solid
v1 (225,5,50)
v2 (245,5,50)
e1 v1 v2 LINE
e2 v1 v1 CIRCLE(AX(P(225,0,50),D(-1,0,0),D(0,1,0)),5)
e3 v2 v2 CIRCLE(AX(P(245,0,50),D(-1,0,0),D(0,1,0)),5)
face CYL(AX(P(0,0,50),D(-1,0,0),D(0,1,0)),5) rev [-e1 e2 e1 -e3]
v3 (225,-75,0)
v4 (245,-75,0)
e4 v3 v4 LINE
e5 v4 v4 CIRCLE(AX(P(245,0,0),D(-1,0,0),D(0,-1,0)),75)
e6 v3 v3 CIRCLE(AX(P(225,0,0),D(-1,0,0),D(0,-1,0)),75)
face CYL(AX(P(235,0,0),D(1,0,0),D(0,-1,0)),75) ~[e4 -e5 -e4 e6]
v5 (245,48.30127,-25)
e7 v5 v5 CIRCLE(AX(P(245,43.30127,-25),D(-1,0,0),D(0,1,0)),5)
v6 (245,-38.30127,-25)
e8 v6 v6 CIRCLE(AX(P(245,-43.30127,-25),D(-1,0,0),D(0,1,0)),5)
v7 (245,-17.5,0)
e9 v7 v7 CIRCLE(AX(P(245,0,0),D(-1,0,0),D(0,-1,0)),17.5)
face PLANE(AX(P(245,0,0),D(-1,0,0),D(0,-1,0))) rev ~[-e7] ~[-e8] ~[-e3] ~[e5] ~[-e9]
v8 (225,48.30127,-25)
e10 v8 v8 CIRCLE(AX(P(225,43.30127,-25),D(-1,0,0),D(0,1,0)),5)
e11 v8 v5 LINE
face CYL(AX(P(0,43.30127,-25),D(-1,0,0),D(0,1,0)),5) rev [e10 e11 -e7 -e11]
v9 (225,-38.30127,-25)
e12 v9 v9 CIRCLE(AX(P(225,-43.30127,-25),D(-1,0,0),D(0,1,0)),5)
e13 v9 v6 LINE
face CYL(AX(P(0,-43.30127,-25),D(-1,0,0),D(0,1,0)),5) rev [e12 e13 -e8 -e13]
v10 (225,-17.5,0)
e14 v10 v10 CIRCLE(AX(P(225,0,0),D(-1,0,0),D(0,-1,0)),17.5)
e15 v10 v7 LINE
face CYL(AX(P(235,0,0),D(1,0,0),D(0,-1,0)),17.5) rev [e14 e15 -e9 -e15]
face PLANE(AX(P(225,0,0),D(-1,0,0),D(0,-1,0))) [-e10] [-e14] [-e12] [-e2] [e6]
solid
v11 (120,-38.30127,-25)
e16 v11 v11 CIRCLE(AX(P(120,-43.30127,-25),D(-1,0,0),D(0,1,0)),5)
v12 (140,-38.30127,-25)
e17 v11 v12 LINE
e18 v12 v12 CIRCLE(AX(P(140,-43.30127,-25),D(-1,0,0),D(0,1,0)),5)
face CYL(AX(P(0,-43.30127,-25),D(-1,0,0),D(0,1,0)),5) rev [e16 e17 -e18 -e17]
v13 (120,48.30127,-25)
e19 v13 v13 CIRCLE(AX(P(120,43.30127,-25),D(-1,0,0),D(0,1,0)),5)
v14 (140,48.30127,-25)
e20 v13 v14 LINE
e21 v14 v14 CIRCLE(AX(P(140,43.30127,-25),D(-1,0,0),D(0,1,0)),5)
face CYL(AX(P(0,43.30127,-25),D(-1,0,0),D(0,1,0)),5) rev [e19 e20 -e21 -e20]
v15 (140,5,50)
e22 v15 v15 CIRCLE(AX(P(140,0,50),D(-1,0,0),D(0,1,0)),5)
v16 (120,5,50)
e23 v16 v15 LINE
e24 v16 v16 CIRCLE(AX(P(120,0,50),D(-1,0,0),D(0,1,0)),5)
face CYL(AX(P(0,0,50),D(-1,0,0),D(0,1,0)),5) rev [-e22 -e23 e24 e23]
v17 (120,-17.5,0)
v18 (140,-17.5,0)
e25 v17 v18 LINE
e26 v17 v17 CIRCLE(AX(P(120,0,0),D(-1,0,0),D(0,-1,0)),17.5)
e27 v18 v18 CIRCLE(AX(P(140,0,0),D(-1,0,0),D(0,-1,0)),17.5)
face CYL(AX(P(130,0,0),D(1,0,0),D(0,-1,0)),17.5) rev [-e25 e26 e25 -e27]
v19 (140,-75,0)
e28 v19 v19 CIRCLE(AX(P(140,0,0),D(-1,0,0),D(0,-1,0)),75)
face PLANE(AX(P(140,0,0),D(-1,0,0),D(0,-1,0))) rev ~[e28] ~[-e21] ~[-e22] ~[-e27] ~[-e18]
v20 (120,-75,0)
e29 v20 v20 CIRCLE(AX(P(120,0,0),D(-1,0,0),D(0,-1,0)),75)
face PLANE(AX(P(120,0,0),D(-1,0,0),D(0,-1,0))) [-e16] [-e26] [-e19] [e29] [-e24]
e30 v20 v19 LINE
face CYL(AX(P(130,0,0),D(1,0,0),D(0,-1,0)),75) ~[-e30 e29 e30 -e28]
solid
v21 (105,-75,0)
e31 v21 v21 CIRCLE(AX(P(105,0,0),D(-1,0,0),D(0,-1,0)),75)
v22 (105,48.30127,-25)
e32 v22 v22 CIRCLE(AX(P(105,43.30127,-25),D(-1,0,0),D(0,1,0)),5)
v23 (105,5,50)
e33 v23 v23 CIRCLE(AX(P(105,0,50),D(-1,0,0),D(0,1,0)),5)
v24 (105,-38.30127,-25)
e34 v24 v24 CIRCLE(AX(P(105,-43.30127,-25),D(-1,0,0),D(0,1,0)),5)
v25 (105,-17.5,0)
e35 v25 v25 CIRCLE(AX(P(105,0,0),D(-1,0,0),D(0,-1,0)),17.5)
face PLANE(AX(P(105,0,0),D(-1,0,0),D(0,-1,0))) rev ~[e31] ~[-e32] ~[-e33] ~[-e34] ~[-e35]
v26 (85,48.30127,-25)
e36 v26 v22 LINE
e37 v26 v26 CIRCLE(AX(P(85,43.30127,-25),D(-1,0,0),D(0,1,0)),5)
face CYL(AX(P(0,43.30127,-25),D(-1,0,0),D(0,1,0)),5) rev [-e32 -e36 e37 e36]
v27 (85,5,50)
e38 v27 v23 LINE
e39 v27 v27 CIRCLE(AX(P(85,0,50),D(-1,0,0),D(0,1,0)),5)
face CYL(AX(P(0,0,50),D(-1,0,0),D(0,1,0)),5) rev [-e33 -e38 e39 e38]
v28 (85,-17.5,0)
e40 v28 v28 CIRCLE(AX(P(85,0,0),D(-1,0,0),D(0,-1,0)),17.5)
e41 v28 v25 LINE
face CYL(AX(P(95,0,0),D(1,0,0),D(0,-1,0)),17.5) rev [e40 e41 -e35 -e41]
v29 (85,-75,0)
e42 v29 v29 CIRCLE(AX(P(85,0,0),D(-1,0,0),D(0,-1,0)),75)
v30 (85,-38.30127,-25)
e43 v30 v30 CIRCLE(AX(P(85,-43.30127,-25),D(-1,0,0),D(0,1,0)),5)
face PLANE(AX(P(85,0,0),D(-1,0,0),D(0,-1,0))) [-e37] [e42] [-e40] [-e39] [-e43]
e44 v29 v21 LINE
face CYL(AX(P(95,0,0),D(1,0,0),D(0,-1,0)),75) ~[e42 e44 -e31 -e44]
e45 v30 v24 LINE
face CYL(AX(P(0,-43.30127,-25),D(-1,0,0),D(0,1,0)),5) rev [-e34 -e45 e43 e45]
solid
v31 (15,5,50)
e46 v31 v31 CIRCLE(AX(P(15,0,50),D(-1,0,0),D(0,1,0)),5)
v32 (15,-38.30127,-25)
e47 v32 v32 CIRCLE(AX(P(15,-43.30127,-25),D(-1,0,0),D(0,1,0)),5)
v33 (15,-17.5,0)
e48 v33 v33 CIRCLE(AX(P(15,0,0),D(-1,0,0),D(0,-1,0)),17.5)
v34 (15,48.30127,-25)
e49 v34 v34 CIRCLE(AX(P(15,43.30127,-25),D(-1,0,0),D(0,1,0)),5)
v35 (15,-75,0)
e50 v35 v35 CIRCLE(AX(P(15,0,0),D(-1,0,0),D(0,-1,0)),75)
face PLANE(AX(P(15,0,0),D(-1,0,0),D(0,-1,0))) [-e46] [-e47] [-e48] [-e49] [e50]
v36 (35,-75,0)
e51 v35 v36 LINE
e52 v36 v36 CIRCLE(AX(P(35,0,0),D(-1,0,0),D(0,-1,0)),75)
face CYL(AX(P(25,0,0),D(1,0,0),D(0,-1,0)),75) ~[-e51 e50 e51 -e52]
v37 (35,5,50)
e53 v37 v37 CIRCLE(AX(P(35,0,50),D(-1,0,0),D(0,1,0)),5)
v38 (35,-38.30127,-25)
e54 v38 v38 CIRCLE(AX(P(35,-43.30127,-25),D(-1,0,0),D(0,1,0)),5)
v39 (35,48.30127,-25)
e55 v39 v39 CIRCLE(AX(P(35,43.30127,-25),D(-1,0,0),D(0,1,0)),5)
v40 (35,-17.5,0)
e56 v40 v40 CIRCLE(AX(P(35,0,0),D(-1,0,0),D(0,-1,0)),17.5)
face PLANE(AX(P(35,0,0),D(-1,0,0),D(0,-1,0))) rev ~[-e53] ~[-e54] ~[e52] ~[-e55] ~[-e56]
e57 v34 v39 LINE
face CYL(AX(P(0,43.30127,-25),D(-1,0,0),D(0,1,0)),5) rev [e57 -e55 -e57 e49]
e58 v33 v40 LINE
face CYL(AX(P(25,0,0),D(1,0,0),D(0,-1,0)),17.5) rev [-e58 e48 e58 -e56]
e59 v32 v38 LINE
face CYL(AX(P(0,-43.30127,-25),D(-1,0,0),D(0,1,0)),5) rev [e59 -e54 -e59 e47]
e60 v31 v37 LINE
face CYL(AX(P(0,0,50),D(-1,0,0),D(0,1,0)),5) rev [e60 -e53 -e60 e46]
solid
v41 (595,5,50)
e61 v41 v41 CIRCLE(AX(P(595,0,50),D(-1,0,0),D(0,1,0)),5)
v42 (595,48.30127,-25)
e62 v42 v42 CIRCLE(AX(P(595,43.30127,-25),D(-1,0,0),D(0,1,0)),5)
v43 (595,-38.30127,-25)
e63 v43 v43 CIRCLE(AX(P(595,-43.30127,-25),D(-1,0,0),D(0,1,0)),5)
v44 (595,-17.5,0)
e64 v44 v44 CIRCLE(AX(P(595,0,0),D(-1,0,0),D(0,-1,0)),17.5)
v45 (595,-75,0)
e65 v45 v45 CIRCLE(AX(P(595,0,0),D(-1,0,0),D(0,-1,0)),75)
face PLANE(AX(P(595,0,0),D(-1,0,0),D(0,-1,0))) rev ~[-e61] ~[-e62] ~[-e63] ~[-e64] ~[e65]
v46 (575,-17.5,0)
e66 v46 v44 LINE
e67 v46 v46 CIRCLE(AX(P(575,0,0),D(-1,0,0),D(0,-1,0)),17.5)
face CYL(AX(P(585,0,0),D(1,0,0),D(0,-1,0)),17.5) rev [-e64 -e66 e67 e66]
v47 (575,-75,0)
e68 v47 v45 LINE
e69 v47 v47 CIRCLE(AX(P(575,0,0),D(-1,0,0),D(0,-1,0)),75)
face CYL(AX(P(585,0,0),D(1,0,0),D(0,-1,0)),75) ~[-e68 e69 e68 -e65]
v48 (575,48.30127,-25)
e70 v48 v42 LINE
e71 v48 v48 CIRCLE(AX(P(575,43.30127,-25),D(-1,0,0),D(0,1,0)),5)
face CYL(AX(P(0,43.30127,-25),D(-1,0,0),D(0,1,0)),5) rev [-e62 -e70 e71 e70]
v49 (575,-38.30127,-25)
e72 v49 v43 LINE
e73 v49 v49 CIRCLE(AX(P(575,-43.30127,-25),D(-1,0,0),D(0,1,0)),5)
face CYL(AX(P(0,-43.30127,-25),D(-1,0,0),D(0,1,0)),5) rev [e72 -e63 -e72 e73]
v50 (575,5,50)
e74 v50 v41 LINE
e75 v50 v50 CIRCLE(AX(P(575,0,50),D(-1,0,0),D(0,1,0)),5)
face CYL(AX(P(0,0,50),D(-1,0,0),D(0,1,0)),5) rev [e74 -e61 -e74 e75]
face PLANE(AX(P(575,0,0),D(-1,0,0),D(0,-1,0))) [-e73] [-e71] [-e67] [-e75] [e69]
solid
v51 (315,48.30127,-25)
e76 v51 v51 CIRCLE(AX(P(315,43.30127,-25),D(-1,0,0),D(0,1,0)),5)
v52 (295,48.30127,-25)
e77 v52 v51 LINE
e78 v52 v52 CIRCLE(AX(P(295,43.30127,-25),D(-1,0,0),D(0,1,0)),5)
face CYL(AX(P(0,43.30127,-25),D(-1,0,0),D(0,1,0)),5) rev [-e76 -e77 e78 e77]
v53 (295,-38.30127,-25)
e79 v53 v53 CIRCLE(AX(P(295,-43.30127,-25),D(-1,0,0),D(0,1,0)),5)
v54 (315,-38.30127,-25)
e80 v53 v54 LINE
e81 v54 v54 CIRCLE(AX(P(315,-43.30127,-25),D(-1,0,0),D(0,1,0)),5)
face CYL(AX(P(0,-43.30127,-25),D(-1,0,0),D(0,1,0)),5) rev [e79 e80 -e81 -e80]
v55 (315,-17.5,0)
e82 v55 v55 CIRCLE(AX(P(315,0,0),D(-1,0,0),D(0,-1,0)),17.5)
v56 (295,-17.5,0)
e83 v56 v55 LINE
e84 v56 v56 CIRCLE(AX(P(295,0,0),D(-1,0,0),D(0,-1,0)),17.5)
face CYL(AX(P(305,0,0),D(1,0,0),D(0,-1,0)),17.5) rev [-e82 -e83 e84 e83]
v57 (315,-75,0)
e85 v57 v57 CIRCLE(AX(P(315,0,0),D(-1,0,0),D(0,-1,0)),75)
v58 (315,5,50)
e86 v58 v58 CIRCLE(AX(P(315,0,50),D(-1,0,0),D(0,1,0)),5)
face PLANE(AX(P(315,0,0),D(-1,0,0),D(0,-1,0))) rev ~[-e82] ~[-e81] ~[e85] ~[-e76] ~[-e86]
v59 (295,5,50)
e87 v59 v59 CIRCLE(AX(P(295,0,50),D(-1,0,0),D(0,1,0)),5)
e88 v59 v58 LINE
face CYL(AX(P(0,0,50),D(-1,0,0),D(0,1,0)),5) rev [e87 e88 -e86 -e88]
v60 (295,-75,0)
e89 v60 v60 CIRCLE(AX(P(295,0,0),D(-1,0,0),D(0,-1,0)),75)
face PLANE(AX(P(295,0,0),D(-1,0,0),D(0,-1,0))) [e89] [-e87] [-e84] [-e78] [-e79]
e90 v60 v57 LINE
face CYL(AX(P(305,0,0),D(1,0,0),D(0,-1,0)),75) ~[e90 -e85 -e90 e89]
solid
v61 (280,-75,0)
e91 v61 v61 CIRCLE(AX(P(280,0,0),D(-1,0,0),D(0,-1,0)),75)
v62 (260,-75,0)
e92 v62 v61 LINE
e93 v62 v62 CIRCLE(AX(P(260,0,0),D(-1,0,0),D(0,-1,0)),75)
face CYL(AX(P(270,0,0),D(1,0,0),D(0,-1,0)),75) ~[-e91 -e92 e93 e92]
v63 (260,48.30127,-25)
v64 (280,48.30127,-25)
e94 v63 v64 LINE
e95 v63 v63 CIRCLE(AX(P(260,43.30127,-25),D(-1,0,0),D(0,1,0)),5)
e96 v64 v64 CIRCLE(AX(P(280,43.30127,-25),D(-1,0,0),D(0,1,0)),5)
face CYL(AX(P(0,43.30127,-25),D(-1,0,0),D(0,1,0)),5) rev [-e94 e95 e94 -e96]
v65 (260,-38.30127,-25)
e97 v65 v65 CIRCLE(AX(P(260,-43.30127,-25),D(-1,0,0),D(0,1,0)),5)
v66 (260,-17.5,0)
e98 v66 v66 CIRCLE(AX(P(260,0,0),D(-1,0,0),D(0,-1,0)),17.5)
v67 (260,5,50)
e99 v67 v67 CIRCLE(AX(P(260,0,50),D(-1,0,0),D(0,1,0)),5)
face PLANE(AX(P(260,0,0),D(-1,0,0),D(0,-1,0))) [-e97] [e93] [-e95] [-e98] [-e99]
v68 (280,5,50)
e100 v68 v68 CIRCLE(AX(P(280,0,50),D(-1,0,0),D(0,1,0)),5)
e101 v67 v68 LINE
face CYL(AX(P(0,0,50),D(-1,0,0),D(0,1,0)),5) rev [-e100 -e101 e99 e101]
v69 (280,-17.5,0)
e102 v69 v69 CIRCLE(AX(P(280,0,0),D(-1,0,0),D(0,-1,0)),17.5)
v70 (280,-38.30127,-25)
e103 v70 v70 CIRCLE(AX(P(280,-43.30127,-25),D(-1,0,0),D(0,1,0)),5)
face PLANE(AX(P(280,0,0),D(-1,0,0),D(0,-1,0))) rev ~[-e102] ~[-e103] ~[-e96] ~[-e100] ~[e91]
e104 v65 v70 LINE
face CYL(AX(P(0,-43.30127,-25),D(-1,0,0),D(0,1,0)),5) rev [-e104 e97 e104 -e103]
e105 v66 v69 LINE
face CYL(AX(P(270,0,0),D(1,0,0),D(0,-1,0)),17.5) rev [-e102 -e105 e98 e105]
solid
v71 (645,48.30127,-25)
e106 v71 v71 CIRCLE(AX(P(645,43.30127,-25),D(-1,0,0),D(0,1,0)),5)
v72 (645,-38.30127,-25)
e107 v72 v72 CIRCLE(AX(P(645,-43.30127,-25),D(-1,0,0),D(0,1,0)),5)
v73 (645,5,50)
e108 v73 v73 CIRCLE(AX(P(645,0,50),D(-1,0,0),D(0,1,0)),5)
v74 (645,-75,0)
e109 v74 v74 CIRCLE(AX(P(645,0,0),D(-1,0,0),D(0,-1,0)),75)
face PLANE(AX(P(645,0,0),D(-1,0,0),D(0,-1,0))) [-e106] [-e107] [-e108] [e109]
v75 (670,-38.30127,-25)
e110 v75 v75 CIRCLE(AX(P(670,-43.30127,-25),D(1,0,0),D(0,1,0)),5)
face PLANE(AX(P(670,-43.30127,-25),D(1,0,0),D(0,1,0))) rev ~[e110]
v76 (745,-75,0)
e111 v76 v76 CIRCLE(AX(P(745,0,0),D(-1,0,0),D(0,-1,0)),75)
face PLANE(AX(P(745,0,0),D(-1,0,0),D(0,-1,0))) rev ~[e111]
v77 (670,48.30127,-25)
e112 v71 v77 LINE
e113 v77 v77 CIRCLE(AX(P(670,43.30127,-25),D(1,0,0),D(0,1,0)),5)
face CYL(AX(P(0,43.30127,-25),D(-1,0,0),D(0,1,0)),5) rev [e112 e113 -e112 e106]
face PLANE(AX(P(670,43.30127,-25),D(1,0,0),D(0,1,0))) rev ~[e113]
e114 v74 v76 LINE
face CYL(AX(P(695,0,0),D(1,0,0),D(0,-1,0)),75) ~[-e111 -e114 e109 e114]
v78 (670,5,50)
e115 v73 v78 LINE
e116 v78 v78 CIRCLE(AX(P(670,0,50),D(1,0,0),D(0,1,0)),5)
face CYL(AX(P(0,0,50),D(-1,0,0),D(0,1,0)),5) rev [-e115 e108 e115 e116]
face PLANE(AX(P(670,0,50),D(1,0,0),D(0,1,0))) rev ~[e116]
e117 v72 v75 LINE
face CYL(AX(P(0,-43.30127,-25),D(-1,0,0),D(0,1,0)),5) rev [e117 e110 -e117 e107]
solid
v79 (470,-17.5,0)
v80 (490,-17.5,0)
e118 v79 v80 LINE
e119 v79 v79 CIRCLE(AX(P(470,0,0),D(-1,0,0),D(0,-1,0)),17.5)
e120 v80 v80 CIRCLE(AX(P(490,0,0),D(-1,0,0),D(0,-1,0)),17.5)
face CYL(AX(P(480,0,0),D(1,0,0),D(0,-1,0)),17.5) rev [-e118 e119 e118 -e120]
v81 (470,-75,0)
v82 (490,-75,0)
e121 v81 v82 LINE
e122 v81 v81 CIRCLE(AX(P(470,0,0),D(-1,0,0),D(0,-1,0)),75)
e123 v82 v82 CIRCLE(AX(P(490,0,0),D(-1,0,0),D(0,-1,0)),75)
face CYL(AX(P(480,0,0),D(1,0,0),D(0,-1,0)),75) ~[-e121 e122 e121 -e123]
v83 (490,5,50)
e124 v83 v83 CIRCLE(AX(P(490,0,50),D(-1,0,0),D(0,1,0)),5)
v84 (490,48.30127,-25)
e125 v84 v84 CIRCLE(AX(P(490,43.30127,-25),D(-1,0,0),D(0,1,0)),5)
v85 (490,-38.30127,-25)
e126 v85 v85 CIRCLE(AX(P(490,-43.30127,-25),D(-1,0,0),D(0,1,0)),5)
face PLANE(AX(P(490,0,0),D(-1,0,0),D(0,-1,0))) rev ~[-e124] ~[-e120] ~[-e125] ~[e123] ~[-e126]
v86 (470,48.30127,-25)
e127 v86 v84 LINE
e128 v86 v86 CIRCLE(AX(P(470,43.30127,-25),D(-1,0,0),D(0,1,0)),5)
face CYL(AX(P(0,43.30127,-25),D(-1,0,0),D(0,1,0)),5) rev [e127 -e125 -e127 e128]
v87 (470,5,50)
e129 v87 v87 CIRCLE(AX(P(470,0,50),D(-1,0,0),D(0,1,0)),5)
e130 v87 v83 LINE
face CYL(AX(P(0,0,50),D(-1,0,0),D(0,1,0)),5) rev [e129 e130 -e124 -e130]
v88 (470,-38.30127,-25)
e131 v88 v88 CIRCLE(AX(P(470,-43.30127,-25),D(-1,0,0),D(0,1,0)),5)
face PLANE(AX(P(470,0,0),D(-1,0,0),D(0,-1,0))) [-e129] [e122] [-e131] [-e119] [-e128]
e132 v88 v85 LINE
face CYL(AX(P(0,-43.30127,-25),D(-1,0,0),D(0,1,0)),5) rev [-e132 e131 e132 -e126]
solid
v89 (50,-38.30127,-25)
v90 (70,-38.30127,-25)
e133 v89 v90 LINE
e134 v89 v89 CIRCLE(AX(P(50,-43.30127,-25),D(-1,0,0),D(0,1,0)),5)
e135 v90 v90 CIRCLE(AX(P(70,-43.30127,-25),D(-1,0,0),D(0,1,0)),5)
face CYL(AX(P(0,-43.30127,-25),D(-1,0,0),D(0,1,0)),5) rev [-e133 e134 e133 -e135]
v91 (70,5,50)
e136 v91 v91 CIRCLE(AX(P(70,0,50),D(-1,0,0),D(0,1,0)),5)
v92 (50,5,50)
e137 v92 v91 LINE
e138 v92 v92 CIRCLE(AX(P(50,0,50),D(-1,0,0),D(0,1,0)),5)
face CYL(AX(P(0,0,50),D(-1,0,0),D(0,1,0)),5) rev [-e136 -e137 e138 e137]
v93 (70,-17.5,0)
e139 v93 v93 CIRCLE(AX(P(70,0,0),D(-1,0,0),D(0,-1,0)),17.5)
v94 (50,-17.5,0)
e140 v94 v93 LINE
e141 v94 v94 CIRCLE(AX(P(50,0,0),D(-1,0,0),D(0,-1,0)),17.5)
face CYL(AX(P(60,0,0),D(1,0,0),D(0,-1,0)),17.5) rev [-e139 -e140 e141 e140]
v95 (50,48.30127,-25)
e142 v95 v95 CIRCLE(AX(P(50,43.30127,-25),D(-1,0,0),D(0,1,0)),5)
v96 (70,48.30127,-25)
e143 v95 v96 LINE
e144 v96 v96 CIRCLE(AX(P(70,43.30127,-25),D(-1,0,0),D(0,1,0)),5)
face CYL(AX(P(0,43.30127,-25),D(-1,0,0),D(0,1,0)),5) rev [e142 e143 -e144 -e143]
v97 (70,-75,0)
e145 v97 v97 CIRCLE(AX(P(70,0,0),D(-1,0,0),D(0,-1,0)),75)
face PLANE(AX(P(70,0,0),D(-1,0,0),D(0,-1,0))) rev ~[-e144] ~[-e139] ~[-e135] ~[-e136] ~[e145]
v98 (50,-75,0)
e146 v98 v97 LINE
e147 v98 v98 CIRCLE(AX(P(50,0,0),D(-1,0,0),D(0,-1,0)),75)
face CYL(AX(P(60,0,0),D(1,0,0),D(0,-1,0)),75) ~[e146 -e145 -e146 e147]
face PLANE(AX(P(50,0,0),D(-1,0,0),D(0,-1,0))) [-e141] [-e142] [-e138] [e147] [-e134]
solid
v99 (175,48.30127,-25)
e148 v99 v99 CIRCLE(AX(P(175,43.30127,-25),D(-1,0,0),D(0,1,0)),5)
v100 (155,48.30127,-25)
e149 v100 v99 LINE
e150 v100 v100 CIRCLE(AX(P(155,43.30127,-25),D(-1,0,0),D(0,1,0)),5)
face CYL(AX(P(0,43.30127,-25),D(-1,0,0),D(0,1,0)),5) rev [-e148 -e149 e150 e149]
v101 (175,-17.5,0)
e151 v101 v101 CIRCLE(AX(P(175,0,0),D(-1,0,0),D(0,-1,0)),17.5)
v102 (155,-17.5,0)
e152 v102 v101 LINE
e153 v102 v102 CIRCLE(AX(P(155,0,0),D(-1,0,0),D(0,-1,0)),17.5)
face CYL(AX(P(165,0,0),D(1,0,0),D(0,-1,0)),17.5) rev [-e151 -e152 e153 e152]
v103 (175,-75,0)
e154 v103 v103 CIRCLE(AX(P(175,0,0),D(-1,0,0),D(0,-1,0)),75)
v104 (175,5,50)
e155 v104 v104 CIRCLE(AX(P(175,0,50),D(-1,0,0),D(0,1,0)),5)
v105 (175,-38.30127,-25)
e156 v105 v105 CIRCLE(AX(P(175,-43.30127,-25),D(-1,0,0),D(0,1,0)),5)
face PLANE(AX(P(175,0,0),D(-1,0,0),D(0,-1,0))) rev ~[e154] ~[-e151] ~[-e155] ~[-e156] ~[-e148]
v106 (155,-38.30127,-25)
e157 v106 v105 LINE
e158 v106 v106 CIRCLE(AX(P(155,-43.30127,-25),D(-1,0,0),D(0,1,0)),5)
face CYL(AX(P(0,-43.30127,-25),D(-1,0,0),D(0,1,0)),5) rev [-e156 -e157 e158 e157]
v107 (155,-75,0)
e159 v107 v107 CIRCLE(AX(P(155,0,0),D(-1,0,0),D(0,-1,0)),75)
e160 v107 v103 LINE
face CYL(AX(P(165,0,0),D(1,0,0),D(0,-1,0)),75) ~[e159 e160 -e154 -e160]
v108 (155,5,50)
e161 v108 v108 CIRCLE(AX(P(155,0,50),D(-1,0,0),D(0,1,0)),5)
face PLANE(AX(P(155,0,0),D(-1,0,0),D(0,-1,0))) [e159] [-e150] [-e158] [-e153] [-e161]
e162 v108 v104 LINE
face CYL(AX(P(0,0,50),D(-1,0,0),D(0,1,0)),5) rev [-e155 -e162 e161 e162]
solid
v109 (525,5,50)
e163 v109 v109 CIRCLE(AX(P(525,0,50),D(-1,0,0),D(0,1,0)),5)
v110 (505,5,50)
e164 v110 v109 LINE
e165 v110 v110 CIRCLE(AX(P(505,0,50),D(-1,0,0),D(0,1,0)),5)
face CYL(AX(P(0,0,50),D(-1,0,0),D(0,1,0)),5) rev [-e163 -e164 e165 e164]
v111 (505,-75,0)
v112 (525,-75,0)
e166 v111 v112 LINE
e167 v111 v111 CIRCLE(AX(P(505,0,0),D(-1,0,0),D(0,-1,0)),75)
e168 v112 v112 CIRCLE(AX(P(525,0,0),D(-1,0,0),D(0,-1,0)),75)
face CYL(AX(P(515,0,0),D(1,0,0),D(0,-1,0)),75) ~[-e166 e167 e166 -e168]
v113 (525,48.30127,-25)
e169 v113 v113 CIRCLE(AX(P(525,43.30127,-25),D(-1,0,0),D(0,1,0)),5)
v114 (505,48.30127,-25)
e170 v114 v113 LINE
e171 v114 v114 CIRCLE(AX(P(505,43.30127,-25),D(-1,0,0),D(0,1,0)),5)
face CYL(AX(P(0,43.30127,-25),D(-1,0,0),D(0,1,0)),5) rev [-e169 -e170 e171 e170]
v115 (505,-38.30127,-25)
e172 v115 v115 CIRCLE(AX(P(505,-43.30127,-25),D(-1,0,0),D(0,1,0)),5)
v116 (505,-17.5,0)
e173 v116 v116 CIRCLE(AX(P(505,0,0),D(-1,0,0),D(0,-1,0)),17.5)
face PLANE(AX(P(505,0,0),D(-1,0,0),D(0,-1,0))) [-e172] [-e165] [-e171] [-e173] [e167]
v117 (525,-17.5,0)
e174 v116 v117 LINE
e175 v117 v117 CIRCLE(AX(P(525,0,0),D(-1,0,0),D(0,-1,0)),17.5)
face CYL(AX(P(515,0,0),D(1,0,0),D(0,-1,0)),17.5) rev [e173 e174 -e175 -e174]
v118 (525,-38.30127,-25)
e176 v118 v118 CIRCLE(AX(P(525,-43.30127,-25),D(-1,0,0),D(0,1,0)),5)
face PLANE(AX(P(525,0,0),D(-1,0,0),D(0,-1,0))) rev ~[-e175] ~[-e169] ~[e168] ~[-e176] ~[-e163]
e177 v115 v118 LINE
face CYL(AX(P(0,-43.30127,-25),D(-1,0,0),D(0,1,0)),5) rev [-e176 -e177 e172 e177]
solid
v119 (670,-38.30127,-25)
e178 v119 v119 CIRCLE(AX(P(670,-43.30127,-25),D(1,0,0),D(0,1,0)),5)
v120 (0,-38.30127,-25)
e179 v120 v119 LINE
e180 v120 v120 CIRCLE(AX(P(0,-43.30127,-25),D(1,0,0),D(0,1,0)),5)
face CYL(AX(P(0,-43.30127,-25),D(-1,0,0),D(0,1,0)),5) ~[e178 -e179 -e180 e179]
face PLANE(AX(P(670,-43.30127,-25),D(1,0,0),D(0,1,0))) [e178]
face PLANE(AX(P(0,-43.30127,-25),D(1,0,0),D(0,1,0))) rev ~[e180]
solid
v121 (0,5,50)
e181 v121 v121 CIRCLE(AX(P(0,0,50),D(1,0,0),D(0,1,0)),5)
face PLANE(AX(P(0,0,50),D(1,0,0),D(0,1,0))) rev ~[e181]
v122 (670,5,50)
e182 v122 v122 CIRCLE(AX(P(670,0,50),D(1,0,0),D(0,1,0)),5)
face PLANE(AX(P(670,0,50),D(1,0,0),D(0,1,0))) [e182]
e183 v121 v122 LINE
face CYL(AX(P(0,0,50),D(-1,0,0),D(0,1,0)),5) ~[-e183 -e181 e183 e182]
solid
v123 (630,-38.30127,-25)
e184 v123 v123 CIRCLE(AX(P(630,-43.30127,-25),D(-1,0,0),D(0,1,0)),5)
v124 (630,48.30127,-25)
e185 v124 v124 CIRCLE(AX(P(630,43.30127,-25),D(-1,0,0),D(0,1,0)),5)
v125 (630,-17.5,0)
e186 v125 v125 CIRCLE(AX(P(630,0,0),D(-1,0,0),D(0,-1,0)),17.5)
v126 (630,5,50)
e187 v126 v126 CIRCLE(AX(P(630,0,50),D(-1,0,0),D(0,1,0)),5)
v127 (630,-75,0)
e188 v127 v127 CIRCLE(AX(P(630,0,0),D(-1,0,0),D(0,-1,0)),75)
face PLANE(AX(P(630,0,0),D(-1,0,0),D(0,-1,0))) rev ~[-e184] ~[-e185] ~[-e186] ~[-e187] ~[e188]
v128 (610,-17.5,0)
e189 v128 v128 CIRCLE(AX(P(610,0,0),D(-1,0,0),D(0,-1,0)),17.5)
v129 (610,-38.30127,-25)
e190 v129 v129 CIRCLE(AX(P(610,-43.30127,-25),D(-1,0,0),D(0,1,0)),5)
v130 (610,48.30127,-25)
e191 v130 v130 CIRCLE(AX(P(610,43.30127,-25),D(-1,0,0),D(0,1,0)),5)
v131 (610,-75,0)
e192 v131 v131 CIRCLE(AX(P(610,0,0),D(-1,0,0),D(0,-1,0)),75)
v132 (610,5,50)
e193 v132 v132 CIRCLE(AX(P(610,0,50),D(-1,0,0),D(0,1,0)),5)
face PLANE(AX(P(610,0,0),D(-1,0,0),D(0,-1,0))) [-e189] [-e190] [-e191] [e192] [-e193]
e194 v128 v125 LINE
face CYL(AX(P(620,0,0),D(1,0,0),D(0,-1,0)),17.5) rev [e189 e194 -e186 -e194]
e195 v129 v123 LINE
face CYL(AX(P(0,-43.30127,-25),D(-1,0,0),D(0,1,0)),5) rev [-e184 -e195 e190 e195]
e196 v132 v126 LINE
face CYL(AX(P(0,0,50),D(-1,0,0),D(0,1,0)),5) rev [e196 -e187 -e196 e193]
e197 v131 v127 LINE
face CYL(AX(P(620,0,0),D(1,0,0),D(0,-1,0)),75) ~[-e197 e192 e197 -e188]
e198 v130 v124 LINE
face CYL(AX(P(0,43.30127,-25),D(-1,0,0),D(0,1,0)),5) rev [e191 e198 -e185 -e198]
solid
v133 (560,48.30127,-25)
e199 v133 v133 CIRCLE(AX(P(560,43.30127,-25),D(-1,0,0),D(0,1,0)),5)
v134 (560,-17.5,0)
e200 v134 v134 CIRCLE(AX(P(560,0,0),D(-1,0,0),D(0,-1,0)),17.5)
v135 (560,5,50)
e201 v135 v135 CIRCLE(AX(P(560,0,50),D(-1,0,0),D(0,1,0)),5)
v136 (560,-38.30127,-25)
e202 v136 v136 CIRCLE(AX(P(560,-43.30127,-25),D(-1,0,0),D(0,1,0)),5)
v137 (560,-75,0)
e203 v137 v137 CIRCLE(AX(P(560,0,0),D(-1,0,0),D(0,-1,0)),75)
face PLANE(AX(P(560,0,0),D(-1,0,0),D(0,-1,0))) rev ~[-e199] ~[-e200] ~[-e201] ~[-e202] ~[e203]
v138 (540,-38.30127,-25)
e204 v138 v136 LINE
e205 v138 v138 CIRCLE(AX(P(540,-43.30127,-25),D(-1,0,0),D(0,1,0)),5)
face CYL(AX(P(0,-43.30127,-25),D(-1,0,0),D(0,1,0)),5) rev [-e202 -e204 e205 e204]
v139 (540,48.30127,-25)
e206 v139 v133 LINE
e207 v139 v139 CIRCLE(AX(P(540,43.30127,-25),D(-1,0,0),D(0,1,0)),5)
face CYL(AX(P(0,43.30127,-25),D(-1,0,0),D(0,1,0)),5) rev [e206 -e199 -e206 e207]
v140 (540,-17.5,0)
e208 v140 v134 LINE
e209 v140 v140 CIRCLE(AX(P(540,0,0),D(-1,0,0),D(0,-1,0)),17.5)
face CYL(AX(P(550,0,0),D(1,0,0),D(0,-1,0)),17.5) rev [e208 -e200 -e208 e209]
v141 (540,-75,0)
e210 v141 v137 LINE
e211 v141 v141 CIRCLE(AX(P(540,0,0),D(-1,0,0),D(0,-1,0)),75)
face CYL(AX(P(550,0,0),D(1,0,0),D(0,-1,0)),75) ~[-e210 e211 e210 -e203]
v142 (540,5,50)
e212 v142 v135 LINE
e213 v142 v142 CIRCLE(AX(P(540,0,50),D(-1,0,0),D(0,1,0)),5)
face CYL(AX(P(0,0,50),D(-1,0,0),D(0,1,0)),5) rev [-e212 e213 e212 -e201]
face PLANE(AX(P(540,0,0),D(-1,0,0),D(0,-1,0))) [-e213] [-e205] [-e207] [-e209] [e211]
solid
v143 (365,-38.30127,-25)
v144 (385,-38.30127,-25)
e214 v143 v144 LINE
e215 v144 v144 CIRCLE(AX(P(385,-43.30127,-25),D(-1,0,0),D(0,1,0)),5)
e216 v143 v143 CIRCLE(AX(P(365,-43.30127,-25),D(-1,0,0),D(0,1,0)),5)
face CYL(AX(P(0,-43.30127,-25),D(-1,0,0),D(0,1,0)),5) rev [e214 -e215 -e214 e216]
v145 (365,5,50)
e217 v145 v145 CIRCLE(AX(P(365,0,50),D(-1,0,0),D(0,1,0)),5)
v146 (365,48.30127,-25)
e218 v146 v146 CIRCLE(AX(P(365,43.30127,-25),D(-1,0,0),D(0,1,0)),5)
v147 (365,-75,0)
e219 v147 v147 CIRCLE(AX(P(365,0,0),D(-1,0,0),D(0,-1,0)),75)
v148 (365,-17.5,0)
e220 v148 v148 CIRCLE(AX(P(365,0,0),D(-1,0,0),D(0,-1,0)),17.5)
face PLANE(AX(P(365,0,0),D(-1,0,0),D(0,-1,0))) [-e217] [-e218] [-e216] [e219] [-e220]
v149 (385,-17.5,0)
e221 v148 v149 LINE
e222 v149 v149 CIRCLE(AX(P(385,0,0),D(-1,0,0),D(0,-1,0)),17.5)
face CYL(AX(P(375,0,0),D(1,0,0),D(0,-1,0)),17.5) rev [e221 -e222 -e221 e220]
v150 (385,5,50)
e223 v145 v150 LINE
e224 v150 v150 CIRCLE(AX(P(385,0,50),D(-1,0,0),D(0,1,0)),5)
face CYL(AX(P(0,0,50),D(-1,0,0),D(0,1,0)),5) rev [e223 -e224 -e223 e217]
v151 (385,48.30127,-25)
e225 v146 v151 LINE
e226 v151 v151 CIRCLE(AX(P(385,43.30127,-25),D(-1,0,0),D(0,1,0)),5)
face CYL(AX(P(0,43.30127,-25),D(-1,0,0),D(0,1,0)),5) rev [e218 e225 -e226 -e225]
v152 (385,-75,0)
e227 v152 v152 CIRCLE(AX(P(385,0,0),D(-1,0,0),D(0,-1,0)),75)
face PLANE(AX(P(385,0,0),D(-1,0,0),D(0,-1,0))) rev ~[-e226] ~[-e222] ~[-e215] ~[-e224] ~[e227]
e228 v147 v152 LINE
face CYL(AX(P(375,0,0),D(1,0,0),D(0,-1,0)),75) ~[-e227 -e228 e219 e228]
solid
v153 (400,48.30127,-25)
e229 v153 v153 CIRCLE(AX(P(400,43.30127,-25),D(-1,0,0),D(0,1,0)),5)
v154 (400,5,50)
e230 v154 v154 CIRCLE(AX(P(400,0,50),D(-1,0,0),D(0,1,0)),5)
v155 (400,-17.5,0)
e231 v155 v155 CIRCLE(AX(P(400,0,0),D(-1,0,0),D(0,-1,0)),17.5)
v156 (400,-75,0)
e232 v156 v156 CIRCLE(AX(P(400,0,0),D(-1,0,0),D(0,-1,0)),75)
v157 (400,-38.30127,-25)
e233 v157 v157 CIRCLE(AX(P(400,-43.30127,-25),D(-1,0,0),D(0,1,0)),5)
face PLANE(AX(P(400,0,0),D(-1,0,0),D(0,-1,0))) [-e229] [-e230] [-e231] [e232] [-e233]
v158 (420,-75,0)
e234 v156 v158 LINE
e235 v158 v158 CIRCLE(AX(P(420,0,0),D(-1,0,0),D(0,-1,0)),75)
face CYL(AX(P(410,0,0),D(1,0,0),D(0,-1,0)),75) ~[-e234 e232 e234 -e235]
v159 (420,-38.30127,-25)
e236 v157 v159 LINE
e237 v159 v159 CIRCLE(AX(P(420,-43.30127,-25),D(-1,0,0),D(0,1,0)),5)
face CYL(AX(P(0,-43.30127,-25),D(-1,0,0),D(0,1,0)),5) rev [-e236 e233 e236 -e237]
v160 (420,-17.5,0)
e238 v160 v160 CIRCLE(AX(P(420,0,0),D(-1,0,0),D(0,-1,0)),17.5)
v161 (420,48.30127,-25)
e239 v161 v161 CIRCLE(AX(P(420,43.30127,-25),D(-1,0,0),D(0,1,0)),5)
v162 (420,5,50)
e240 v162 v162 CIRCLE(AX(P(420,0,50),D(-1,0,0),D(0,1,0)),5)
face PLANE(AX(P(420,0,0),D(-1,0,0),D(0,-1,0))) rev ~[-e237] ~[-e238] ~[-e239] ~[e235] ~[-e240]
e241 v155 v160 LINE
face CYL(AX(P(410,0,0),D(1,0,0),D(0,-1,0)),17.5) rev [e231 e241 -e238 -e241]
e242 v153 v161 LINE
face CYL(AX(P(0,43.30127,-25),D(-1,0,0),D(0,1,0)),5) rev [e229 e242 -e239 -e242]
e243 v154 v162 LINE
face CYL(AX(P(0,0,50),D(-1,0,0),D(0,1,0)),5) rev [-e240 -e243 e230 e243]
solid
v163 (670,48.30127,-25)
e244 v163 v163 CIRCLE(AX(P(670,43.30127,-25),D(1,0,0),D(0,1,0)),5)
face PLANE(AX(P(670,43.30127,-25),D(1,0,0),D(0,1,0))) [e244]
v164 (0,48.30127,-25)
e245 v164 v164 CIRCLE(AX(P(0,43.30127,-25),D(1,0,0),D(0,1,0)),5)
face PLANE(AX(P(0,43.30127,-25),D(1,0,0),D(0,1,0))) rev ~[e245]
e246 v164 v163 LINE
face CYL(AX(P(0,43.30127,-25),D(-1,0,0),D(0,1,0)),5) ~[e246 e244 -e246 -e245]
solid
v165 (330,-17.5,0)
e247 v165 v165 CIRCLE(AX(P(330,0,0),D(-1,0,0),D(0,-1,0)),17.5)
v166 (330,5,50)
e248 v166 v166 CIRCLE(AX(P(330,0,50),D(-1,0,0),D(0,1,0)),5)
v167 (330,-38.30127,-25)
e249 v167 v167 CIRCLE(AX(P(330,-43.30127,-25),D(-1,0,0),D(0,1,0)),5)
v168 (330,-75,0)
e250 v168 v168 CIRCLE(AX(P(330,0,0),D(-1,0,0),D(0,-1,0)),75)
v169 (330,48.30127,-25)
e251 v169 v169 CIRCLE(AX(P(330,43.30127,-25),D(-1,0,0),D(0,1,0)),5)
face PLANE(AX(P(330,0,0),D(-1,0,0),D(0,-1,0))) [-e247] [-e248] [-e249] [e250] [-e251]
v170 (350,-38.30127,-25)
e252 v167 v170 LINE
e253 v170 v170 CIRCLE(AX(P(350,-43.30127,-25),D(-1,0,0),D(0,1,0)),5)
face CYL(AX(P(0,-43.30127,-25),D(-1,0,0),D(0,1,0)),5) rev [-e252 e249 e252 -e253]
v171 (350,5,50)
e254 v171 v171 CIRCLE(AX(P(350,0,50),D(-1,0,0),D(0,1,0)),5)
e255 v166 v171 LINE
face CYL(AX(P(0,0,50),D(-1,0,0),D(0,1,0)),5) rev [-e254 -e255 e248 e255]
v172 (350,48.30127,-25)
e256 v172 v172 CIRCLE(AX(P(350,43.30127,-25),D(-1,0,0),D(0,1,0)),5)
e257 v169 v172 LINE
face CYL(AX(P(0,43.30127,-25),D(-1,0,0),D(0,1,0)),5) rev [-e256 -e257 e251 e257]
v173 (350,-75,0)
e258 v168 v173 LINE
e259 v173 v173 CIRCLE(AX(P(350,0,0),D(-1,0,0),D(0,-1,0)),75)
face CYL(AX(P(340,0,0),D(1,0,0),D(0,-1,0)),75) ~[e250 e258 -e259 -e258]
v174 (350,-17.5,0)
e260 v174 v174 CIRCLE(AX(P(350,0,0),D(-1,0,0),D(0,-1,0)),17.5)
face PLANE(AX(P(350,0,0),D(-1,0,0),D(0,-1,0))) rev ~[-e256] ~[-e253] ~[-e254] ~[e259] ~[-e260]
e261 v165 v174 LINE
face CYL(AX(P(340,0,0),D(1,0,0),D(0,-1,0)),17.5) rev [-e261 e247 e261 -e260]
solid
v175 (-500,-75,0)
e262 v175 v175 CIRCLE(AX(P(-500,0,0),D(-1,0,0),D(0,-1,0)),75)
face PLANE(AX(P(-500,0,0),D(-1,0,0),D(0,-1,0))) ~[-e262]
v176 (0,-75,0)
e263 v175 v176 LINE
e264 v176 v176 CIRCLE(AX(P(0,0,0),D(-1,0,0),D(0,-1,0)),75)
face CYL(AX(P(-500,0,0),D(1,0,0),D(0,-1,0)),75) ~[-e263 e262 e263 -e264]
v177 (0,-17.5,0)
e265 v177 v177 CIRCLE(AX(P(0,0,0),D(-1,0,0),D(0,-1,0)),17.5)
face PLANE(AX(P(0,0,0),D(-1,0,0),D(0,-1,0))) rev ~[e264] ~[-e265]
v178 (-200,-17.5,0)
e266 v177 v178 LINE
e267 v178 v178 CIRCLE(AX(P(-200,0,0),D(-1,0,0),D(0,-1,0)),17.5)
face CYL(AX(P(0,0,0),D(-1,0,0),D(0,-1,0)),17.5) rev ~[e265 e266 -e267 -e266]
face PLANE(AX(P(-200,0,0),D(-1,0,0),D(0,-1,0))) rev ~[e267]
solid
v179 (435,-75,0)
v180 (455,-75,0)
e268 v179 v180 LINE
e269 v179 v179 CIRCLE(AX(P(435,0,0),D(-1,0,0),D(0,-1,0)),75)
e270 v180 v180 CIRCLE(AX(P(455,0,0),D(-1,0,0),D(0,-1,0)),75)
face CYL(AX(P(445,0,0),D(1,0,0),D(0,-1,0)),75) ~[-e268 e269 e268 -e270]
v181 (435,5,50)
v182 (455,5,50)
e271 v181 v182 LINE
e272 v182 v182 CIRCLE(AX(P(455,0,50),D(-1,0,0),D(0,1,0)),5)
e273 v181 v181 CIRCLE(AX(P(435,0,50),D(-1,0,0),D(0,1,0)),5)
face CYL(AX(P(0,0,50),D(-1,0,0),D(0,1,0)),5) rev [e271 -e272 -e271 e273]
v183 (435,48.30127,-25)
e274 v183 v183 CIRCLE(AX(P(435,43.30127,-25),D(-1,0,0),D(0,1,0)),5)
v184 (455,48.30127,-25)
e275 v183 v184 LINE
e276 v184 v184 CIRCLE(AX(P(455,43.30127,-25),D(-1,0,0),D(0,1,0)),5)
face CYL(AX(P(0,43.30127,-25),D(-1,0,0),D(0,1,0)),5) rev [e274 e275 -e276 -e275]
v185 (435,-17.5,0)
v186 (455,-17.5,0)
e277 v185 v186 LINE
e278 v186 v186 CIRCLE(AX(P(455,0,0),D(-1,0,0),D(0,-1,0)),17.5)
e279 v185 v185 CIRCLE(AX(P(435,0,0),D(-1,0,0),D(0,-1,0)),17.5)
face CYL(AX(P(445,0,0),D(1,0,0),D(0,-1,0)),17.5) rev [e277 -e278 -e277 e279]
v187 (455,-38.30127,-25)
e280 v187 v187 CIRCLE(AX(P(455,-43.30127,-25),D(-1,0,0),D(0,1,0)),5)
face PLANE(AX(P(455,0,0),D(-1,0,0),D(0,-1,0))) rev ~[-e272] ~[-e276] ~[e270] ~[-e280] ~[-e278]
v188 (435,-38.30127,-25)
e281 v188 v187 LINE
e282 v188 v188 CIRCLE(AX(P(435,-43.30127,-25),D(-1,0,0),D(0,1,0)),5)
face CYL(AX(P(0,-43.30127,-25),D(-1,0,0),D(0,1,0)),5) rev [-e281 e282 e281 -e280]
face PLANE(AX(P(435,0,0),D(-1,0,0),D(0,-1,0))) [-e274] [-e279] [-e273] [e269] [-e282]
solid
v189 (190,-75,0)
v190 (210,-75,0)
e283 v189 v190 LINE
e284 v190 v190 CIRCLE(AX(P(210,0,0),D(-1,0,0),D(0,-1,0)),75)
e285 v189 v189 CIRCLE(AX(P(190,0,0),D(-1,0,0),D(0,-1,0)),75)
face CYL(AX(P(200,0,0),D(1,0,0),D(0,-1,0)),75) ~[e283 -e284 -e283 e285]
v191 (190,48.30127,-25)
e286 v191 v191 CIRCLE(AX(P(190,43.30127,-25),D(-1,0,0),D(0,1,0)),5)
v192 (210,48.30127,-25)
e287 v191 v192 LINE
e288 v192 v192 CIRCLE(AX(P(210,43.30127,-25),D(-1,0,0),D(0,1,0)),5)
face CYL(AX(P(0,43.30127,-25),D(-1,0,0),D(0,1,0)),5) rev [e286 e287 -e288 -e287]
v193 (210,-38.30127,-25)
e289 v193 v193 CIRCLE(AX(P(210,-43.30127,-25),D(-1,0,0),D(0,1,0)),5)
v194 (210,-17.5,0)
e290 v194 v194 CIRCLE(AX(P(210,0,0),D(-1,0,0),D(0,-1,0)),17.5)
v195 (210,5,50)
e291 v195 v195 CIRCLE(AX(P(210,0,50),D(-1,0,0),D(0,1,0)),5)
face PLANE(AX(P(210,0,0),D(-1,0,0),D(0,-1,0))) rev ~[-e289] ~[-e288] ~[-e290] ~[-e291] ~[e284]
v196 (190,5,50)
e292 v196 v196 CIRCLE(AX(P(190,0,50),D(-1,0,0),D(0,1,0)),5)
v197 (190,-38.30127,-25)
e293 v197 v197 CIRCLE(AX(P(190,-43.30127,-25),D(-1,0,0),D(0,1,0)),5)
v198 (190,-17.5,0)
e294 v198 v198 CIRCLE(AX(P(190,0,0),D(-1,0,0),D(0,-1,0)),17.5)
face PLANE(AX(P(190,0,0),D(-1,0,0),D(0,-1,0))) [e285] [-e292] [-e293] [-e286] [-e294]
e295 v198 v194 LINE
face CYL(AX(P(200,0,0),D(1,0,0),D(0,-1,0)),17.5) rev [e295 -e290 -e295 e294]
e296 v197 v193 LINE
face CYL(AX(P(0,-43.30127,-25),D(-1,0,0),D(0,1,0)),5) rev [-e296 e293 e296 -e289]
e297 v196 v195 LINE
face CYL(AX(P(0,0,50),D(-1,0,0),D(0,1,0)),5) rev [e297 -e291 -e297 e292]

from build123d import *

# Parameters (mm, degrees)
F1_W     = 20
F1_H     = 57.5
F2_W     = 100
F2_H     = 75
F4_R     = 5
F5_DEPTH = 670
F6_DEPTH = 670


with BuildPart() as f3:
    # F0 (on Top) → F3 (revolve)
    with BuildSketch(Plane.XY):
        Polygon((-200, 0), (-500, 0), (-500, -75), (0, -75), (0, -17.5), (-200, -17.5), align=None)
    revolve(axis=Axis((-350, 0, 0), (-1, 0, 0)))


with BuildPart() as f3b:
    # F1 (on Top) → F3, piece 2 (revolve)
    with BuildSketch(Plane.XY):
        with Locations((165, -46.25)):
            Rectangle(F1_W, F1_H)
    revolve(axis=Axis((-350, 0, 0), (-1, 0, 0)))


with BuildPart() as f3c:
    # F1 (on Top) → F3, piece 3 (revolve)
    with BuildSketch(Plane.XY):
        with Locations((340, -46.25)):
            Rectangle(F1_W, F1_H)
    revolve(axis=Axis((-350, 0, 0), (-1, 0, 0)))


with BuildPart() as f3d:
    # F1 (on Top) → F3, piece 4 (revolve)
    with BuildSketch(Plane.XY):
        with Locations((130, -46.25)):
            Rectangle(F1_W, F1_H)
    revolve(axis=Axis((-350, 0, 0), (-1, 0, 0)))


with BuildPart() as f3e:
    # F1 (on Top) → F3, piece 5 (revolve)
    with BuildSketch(Plane.XY):
        with Locations((95, -46.25)):
            Rectangle(F1_W, F1_H)
    revolve(axis=Axis((-350, 0, 0), (-1, 0, 0)))


with BuildPart() as f3f:
    # F1 (on Top) → F3, piece 6 (revolve)
    with BuildSketch(Plane.XY):
        with Locations((375, -46.25)):
            Rectangle(F1_W, F1_H)
    revolve(axis=Axis((-350, 0, 0), (-1, 0, 0)))


with BuildPart() as f3g:
    # F1 (on Top) → F3, piece 7 (revolve)
    with BuildSketch(Plane.XY):
        with Locations((60, -46.25)):
            Rectangle(F1_W, F1_H)
    revolve(axis=Axis((-350, 0, 0), (-1, 0, 0)))


with BuildPart() as f3h:
    # F1 (on Top) → F3, piece 8 (revolve)
    with BuildSketch(Plane.XY):
        with Locations((305, -46.25)):
            Rectangle(F1_W, F1_H)
    revolve(axis=Axis((-350, 0, 0), (-1, 0, 0)))


with BuildPart() as f3i:
    # F1 (on Top) → F3, piece 9 (revolve)
    with BuildSketch(Plane.XY):
        with Locations((620, -46.25)):
            Rectangle(F1_W, F1_H)
    revolve(axis=Axis((-350, 0, 0), (-1, 0, 0)))


with BuildPart() as f3j:
    # F1 (on Top) → F3, piece 10 (revolve)
    with BuildSketch(Plane.XY):
        with Locations((585, -46.25)):
            Rectangle(F1_W, F1_H)
    revolve(axis=Axis((-350, 0, 0), (-1, 0, 0)))


with BuildPart() as f3k:
    # F1 (on Top) → F3, piece 11 (revolve)
    with BuildSketch(Plane.XY):
        with Locations((445, -46.25)):
            Rectangle(F1_W, F1_H)
    revolve(axis=Axis((-350, 0, 0), (-1, 0, 0)))


with BuildPart() as f3l:
    # F1 (on Top) → F3, piece 12 (revolve)
    with BuildSketch(Plane.XY):
        with Locations((200, -46.25)):
            Rectangle(F1_W, F1_H)
    revolve(axis=Axis((-350, 0, 0), (-1, 0, 0)))


with BuildPart() as f3m:
    # F1 (on Top) → F3, piece 13 (revolve)
    with BuildSketch(Plane.XY):
        with Locations((235, -46.25)):
            Rectangle(F1_W, F1_H)
    revolve(axis=Axis((-350, 0, 0), (-1, 0, 0)))


with BuildPart() as f3n:
    # F1 (on Top) → F3, piece 14 (revolve)
    with BuildSketch(Plane.XY):
        with Locations((410, -46.25)):
            Rectangle(F1_W, F1_H)
    revolve(axis=Axis((-350, 0, 0), (-1, 0, 0)))


with BuildPart() as f3o:
    # F1 (on Top) → F3, piece 15 (revolve)
    with BuildSketch(Plane.XY):
        with Locations((270, -46.25)):
            Rectangle(F1_W, F1_H)
    revolve(axis=Axis((-350, 0, 0), (-1, 0, 0)))


with BuildPart() as f3p:
    # F1 (on Top) → F3, piece 16 (revolve)
    with BuildSketch(Plane.XY):
        with Locations((25, -46.25)):
            Rectangle(F1_W, F1_H)
    revolve(axis=Axis((-350, 0, 0), (-1, 0, 0)))


with BuildPart() as f3q:
    # F1 (on Top) → F3, piece 17 (revolve)
    with BuildSketch(Plane.XY):
        with Locations((515, -46.25)):
            Rectangle(F1_W, F1_H)
    revolve(axis=Axis((-350, 0, 0), (-1, 0, 0)))


with BuildPart() as f3r:
    # F1 (on Top) → F3, piece 18 (revolve)
    with BuildSketch(Plane.XY):
        with Locations((480, -46.25)):
            Rectangle(F1_W, F1_H)
    revolve(axis=Axis((-350, 0, 0), (-1, 0, 0)))


with BuildPart() as f3s:
    # F2 (on Top) → F3, piece 19 (revolve)
    with BuildSketch(Plane.XY):
        with Locations((695, -37.5)):
            Rectangle(F2_W, F2_H)
    revolve(axis=Axis((-350, 0, 0), (-1, 0, 0)))


with BuildPart() as f3t:
    # F1 (on Top) → F3, piece 20 (revolve)
    with BuildSketch(Plane.XY):
        with Locations((550, -46.25)):
            Rectangle(F1_W, F1_H)
    revolve(axis=Axis((-350, 0, 0), (-1, 0, 0)))


with BuildPart() as f5_tool:
    # F4 (on Right) → F5 (new body, through all)
    with BuildSketch(Plane.YZ):
        with Locations((0, 50)):
            Circle(F4_R)
        with Locations((-43.3012701892, -25)):
            Circle(F4_R)
        with Locations((43.3012701892, -25)):
            Circle(F4_R)
    extrude(amount=F5_DEPTH)


with BuildPart() as f3b_1:
    add(f3b.part)

    # F5: cut by f5_tool
    add(f5_tool.part, mode=Mode.SUBTRACT)


with BuildPart() as f3c_1:
    add(f3c.part)

    # F5: cut by f5_tool
    add(f5_tool.part, mode=Mode.SUBTRACT)


with BuildPart() as f3d_1:
    add(f3d.part)

    # F5: cut by f5_tool
    add(f5_tool.part, mode=Mode.SUBTRACT)


with BuildPart() as f3e_1:
    add(f3e.part)

    # F5: cut by f5_tool
    add(f5_tool.part, mode=Mode.SUBTRACT)


with BuildPart() as f3f_1:
    add(f3f.part)

    # F5: cut by f5_tool
    add(f5_tool.part, mode=Mode.SUBTRACT)


with BuildPart() as f3g_1:
    add(f3g.part)

    # F5: cut by f5_tool
    add(f5_tool.part, mode=Mode.SUBTRACT)


with BuildPart() as f3h_1:
    add(f3h.part)

    # F5: cut by f5_tool
    add(f5_tool.part, mode=Mode.SUBTRACT)


with BuildPart() as f3i_1:
    add(f3i.part)

    # F5: cut by f5_tool
    add(f5_tool.part, mode=Mode.SUBTRACT)


with BuildPart() as f3j_1:
    add(f3j.part)

    # F5: cut by f5_tool
    add(f5_tool.part, mode=Mode.SUBTRACT)


with BuildPart() as f3k_1:
    add(f3k.part)

    # F5: cut by f5_tool
    add(f5_tool.part, mode=Mode.SUBTRACT)


with BuildPart() as f3l_1:
    add(f3l.part)

    # F5: cut by f5_tool
    add(f5_tool.part, mode=Mode.SUBTRACT)


with BuildPart() as f3m_1:
    add(f3m.part)

    # F5: cut by f5_tool
    add(f5_tool.part, mode=Mode.SUBTRACT)


with BuildPart() as f3n_1:
    add(f3n.part)

    # F5: cut by f5_tool
    add(f5_tool.part, mode=Mode.SUBTRACT)


with BuildPart() as f3o_1:
    add(f3o.part)

    # F5: cut by f5_tool
    add(f5_tool.part, mode=Mode.SUBTRACT)


with BuildPart() as f3p_1:
    add(f3p.part)

    # F5: cut by f5_tool
    add(f5_tool.part, mode=Mode.SUBTRACT)


with BuildPart() as f3q_1:
    add(f3q.part)

    # F5: cut by f5_tool
    add(f5_tool.part, mode=Mode.SUBTRACT)


with BuildPart() as f3r_1:
    add(f3r.part)

    # F5: cut by f5_tool
    add(f5_tool.part, mode=Mode.SUBTRACT)


with BuildPart() as f3s_1:
    add(f3s.part)

    # F5: cut by f5_tool
    add(f5_tool.part, mode=Mode.SUBTRACT)


with BuildPart() as f3t_1:
    add(f3t.part)

    # F5: cut by f5_tool
    add(f5_tool.part, mode=Mode.SUBTRACT)


with BuildPart() as f6:
    # F4 (on Right) → F6 (new body, through all)
    with BuildSketch(Plane.YZ):
        with Locations((0, 50)):
            Circle(F4_R)
    extrude(amount=F6_DEPTH)


with BuildPart() as f6b:
    # F4 (on Right) → F6, piece 2 (new body, through all)
    with BuildSketch(Plane.YZ):
        with Locations((-43.3012701892, -25)):
            Circle(F4_R)
    extrude(amount=F6_DEPTH)


with BuildPart() as f6c:
    # F4 (on Right) → F6, piece 3 (new body, through all)
    with BuildSketch(Plane.YZ):
        with Locations((43.3012701892, -25)):
            Circle(F4_R)
    extrude(amount=F6_DEPTH)


solid = Compound([f3.part, f3b_1.part, f3c_1.part, f3d_1.part, f3e_1.part, f3f_1.part, f3g_1.part, f3h_1.part, f3i_1.part, f3j_1.part, f3k_1.part, f3l_1.part, f3m_1.part, f3n_1.part, f3o_1.part, f3p_1.part, f3q_1.part, f3r_1.part, f3s_1.part, f3t_1.part, f6.part, f6b.part, f6c.part])
